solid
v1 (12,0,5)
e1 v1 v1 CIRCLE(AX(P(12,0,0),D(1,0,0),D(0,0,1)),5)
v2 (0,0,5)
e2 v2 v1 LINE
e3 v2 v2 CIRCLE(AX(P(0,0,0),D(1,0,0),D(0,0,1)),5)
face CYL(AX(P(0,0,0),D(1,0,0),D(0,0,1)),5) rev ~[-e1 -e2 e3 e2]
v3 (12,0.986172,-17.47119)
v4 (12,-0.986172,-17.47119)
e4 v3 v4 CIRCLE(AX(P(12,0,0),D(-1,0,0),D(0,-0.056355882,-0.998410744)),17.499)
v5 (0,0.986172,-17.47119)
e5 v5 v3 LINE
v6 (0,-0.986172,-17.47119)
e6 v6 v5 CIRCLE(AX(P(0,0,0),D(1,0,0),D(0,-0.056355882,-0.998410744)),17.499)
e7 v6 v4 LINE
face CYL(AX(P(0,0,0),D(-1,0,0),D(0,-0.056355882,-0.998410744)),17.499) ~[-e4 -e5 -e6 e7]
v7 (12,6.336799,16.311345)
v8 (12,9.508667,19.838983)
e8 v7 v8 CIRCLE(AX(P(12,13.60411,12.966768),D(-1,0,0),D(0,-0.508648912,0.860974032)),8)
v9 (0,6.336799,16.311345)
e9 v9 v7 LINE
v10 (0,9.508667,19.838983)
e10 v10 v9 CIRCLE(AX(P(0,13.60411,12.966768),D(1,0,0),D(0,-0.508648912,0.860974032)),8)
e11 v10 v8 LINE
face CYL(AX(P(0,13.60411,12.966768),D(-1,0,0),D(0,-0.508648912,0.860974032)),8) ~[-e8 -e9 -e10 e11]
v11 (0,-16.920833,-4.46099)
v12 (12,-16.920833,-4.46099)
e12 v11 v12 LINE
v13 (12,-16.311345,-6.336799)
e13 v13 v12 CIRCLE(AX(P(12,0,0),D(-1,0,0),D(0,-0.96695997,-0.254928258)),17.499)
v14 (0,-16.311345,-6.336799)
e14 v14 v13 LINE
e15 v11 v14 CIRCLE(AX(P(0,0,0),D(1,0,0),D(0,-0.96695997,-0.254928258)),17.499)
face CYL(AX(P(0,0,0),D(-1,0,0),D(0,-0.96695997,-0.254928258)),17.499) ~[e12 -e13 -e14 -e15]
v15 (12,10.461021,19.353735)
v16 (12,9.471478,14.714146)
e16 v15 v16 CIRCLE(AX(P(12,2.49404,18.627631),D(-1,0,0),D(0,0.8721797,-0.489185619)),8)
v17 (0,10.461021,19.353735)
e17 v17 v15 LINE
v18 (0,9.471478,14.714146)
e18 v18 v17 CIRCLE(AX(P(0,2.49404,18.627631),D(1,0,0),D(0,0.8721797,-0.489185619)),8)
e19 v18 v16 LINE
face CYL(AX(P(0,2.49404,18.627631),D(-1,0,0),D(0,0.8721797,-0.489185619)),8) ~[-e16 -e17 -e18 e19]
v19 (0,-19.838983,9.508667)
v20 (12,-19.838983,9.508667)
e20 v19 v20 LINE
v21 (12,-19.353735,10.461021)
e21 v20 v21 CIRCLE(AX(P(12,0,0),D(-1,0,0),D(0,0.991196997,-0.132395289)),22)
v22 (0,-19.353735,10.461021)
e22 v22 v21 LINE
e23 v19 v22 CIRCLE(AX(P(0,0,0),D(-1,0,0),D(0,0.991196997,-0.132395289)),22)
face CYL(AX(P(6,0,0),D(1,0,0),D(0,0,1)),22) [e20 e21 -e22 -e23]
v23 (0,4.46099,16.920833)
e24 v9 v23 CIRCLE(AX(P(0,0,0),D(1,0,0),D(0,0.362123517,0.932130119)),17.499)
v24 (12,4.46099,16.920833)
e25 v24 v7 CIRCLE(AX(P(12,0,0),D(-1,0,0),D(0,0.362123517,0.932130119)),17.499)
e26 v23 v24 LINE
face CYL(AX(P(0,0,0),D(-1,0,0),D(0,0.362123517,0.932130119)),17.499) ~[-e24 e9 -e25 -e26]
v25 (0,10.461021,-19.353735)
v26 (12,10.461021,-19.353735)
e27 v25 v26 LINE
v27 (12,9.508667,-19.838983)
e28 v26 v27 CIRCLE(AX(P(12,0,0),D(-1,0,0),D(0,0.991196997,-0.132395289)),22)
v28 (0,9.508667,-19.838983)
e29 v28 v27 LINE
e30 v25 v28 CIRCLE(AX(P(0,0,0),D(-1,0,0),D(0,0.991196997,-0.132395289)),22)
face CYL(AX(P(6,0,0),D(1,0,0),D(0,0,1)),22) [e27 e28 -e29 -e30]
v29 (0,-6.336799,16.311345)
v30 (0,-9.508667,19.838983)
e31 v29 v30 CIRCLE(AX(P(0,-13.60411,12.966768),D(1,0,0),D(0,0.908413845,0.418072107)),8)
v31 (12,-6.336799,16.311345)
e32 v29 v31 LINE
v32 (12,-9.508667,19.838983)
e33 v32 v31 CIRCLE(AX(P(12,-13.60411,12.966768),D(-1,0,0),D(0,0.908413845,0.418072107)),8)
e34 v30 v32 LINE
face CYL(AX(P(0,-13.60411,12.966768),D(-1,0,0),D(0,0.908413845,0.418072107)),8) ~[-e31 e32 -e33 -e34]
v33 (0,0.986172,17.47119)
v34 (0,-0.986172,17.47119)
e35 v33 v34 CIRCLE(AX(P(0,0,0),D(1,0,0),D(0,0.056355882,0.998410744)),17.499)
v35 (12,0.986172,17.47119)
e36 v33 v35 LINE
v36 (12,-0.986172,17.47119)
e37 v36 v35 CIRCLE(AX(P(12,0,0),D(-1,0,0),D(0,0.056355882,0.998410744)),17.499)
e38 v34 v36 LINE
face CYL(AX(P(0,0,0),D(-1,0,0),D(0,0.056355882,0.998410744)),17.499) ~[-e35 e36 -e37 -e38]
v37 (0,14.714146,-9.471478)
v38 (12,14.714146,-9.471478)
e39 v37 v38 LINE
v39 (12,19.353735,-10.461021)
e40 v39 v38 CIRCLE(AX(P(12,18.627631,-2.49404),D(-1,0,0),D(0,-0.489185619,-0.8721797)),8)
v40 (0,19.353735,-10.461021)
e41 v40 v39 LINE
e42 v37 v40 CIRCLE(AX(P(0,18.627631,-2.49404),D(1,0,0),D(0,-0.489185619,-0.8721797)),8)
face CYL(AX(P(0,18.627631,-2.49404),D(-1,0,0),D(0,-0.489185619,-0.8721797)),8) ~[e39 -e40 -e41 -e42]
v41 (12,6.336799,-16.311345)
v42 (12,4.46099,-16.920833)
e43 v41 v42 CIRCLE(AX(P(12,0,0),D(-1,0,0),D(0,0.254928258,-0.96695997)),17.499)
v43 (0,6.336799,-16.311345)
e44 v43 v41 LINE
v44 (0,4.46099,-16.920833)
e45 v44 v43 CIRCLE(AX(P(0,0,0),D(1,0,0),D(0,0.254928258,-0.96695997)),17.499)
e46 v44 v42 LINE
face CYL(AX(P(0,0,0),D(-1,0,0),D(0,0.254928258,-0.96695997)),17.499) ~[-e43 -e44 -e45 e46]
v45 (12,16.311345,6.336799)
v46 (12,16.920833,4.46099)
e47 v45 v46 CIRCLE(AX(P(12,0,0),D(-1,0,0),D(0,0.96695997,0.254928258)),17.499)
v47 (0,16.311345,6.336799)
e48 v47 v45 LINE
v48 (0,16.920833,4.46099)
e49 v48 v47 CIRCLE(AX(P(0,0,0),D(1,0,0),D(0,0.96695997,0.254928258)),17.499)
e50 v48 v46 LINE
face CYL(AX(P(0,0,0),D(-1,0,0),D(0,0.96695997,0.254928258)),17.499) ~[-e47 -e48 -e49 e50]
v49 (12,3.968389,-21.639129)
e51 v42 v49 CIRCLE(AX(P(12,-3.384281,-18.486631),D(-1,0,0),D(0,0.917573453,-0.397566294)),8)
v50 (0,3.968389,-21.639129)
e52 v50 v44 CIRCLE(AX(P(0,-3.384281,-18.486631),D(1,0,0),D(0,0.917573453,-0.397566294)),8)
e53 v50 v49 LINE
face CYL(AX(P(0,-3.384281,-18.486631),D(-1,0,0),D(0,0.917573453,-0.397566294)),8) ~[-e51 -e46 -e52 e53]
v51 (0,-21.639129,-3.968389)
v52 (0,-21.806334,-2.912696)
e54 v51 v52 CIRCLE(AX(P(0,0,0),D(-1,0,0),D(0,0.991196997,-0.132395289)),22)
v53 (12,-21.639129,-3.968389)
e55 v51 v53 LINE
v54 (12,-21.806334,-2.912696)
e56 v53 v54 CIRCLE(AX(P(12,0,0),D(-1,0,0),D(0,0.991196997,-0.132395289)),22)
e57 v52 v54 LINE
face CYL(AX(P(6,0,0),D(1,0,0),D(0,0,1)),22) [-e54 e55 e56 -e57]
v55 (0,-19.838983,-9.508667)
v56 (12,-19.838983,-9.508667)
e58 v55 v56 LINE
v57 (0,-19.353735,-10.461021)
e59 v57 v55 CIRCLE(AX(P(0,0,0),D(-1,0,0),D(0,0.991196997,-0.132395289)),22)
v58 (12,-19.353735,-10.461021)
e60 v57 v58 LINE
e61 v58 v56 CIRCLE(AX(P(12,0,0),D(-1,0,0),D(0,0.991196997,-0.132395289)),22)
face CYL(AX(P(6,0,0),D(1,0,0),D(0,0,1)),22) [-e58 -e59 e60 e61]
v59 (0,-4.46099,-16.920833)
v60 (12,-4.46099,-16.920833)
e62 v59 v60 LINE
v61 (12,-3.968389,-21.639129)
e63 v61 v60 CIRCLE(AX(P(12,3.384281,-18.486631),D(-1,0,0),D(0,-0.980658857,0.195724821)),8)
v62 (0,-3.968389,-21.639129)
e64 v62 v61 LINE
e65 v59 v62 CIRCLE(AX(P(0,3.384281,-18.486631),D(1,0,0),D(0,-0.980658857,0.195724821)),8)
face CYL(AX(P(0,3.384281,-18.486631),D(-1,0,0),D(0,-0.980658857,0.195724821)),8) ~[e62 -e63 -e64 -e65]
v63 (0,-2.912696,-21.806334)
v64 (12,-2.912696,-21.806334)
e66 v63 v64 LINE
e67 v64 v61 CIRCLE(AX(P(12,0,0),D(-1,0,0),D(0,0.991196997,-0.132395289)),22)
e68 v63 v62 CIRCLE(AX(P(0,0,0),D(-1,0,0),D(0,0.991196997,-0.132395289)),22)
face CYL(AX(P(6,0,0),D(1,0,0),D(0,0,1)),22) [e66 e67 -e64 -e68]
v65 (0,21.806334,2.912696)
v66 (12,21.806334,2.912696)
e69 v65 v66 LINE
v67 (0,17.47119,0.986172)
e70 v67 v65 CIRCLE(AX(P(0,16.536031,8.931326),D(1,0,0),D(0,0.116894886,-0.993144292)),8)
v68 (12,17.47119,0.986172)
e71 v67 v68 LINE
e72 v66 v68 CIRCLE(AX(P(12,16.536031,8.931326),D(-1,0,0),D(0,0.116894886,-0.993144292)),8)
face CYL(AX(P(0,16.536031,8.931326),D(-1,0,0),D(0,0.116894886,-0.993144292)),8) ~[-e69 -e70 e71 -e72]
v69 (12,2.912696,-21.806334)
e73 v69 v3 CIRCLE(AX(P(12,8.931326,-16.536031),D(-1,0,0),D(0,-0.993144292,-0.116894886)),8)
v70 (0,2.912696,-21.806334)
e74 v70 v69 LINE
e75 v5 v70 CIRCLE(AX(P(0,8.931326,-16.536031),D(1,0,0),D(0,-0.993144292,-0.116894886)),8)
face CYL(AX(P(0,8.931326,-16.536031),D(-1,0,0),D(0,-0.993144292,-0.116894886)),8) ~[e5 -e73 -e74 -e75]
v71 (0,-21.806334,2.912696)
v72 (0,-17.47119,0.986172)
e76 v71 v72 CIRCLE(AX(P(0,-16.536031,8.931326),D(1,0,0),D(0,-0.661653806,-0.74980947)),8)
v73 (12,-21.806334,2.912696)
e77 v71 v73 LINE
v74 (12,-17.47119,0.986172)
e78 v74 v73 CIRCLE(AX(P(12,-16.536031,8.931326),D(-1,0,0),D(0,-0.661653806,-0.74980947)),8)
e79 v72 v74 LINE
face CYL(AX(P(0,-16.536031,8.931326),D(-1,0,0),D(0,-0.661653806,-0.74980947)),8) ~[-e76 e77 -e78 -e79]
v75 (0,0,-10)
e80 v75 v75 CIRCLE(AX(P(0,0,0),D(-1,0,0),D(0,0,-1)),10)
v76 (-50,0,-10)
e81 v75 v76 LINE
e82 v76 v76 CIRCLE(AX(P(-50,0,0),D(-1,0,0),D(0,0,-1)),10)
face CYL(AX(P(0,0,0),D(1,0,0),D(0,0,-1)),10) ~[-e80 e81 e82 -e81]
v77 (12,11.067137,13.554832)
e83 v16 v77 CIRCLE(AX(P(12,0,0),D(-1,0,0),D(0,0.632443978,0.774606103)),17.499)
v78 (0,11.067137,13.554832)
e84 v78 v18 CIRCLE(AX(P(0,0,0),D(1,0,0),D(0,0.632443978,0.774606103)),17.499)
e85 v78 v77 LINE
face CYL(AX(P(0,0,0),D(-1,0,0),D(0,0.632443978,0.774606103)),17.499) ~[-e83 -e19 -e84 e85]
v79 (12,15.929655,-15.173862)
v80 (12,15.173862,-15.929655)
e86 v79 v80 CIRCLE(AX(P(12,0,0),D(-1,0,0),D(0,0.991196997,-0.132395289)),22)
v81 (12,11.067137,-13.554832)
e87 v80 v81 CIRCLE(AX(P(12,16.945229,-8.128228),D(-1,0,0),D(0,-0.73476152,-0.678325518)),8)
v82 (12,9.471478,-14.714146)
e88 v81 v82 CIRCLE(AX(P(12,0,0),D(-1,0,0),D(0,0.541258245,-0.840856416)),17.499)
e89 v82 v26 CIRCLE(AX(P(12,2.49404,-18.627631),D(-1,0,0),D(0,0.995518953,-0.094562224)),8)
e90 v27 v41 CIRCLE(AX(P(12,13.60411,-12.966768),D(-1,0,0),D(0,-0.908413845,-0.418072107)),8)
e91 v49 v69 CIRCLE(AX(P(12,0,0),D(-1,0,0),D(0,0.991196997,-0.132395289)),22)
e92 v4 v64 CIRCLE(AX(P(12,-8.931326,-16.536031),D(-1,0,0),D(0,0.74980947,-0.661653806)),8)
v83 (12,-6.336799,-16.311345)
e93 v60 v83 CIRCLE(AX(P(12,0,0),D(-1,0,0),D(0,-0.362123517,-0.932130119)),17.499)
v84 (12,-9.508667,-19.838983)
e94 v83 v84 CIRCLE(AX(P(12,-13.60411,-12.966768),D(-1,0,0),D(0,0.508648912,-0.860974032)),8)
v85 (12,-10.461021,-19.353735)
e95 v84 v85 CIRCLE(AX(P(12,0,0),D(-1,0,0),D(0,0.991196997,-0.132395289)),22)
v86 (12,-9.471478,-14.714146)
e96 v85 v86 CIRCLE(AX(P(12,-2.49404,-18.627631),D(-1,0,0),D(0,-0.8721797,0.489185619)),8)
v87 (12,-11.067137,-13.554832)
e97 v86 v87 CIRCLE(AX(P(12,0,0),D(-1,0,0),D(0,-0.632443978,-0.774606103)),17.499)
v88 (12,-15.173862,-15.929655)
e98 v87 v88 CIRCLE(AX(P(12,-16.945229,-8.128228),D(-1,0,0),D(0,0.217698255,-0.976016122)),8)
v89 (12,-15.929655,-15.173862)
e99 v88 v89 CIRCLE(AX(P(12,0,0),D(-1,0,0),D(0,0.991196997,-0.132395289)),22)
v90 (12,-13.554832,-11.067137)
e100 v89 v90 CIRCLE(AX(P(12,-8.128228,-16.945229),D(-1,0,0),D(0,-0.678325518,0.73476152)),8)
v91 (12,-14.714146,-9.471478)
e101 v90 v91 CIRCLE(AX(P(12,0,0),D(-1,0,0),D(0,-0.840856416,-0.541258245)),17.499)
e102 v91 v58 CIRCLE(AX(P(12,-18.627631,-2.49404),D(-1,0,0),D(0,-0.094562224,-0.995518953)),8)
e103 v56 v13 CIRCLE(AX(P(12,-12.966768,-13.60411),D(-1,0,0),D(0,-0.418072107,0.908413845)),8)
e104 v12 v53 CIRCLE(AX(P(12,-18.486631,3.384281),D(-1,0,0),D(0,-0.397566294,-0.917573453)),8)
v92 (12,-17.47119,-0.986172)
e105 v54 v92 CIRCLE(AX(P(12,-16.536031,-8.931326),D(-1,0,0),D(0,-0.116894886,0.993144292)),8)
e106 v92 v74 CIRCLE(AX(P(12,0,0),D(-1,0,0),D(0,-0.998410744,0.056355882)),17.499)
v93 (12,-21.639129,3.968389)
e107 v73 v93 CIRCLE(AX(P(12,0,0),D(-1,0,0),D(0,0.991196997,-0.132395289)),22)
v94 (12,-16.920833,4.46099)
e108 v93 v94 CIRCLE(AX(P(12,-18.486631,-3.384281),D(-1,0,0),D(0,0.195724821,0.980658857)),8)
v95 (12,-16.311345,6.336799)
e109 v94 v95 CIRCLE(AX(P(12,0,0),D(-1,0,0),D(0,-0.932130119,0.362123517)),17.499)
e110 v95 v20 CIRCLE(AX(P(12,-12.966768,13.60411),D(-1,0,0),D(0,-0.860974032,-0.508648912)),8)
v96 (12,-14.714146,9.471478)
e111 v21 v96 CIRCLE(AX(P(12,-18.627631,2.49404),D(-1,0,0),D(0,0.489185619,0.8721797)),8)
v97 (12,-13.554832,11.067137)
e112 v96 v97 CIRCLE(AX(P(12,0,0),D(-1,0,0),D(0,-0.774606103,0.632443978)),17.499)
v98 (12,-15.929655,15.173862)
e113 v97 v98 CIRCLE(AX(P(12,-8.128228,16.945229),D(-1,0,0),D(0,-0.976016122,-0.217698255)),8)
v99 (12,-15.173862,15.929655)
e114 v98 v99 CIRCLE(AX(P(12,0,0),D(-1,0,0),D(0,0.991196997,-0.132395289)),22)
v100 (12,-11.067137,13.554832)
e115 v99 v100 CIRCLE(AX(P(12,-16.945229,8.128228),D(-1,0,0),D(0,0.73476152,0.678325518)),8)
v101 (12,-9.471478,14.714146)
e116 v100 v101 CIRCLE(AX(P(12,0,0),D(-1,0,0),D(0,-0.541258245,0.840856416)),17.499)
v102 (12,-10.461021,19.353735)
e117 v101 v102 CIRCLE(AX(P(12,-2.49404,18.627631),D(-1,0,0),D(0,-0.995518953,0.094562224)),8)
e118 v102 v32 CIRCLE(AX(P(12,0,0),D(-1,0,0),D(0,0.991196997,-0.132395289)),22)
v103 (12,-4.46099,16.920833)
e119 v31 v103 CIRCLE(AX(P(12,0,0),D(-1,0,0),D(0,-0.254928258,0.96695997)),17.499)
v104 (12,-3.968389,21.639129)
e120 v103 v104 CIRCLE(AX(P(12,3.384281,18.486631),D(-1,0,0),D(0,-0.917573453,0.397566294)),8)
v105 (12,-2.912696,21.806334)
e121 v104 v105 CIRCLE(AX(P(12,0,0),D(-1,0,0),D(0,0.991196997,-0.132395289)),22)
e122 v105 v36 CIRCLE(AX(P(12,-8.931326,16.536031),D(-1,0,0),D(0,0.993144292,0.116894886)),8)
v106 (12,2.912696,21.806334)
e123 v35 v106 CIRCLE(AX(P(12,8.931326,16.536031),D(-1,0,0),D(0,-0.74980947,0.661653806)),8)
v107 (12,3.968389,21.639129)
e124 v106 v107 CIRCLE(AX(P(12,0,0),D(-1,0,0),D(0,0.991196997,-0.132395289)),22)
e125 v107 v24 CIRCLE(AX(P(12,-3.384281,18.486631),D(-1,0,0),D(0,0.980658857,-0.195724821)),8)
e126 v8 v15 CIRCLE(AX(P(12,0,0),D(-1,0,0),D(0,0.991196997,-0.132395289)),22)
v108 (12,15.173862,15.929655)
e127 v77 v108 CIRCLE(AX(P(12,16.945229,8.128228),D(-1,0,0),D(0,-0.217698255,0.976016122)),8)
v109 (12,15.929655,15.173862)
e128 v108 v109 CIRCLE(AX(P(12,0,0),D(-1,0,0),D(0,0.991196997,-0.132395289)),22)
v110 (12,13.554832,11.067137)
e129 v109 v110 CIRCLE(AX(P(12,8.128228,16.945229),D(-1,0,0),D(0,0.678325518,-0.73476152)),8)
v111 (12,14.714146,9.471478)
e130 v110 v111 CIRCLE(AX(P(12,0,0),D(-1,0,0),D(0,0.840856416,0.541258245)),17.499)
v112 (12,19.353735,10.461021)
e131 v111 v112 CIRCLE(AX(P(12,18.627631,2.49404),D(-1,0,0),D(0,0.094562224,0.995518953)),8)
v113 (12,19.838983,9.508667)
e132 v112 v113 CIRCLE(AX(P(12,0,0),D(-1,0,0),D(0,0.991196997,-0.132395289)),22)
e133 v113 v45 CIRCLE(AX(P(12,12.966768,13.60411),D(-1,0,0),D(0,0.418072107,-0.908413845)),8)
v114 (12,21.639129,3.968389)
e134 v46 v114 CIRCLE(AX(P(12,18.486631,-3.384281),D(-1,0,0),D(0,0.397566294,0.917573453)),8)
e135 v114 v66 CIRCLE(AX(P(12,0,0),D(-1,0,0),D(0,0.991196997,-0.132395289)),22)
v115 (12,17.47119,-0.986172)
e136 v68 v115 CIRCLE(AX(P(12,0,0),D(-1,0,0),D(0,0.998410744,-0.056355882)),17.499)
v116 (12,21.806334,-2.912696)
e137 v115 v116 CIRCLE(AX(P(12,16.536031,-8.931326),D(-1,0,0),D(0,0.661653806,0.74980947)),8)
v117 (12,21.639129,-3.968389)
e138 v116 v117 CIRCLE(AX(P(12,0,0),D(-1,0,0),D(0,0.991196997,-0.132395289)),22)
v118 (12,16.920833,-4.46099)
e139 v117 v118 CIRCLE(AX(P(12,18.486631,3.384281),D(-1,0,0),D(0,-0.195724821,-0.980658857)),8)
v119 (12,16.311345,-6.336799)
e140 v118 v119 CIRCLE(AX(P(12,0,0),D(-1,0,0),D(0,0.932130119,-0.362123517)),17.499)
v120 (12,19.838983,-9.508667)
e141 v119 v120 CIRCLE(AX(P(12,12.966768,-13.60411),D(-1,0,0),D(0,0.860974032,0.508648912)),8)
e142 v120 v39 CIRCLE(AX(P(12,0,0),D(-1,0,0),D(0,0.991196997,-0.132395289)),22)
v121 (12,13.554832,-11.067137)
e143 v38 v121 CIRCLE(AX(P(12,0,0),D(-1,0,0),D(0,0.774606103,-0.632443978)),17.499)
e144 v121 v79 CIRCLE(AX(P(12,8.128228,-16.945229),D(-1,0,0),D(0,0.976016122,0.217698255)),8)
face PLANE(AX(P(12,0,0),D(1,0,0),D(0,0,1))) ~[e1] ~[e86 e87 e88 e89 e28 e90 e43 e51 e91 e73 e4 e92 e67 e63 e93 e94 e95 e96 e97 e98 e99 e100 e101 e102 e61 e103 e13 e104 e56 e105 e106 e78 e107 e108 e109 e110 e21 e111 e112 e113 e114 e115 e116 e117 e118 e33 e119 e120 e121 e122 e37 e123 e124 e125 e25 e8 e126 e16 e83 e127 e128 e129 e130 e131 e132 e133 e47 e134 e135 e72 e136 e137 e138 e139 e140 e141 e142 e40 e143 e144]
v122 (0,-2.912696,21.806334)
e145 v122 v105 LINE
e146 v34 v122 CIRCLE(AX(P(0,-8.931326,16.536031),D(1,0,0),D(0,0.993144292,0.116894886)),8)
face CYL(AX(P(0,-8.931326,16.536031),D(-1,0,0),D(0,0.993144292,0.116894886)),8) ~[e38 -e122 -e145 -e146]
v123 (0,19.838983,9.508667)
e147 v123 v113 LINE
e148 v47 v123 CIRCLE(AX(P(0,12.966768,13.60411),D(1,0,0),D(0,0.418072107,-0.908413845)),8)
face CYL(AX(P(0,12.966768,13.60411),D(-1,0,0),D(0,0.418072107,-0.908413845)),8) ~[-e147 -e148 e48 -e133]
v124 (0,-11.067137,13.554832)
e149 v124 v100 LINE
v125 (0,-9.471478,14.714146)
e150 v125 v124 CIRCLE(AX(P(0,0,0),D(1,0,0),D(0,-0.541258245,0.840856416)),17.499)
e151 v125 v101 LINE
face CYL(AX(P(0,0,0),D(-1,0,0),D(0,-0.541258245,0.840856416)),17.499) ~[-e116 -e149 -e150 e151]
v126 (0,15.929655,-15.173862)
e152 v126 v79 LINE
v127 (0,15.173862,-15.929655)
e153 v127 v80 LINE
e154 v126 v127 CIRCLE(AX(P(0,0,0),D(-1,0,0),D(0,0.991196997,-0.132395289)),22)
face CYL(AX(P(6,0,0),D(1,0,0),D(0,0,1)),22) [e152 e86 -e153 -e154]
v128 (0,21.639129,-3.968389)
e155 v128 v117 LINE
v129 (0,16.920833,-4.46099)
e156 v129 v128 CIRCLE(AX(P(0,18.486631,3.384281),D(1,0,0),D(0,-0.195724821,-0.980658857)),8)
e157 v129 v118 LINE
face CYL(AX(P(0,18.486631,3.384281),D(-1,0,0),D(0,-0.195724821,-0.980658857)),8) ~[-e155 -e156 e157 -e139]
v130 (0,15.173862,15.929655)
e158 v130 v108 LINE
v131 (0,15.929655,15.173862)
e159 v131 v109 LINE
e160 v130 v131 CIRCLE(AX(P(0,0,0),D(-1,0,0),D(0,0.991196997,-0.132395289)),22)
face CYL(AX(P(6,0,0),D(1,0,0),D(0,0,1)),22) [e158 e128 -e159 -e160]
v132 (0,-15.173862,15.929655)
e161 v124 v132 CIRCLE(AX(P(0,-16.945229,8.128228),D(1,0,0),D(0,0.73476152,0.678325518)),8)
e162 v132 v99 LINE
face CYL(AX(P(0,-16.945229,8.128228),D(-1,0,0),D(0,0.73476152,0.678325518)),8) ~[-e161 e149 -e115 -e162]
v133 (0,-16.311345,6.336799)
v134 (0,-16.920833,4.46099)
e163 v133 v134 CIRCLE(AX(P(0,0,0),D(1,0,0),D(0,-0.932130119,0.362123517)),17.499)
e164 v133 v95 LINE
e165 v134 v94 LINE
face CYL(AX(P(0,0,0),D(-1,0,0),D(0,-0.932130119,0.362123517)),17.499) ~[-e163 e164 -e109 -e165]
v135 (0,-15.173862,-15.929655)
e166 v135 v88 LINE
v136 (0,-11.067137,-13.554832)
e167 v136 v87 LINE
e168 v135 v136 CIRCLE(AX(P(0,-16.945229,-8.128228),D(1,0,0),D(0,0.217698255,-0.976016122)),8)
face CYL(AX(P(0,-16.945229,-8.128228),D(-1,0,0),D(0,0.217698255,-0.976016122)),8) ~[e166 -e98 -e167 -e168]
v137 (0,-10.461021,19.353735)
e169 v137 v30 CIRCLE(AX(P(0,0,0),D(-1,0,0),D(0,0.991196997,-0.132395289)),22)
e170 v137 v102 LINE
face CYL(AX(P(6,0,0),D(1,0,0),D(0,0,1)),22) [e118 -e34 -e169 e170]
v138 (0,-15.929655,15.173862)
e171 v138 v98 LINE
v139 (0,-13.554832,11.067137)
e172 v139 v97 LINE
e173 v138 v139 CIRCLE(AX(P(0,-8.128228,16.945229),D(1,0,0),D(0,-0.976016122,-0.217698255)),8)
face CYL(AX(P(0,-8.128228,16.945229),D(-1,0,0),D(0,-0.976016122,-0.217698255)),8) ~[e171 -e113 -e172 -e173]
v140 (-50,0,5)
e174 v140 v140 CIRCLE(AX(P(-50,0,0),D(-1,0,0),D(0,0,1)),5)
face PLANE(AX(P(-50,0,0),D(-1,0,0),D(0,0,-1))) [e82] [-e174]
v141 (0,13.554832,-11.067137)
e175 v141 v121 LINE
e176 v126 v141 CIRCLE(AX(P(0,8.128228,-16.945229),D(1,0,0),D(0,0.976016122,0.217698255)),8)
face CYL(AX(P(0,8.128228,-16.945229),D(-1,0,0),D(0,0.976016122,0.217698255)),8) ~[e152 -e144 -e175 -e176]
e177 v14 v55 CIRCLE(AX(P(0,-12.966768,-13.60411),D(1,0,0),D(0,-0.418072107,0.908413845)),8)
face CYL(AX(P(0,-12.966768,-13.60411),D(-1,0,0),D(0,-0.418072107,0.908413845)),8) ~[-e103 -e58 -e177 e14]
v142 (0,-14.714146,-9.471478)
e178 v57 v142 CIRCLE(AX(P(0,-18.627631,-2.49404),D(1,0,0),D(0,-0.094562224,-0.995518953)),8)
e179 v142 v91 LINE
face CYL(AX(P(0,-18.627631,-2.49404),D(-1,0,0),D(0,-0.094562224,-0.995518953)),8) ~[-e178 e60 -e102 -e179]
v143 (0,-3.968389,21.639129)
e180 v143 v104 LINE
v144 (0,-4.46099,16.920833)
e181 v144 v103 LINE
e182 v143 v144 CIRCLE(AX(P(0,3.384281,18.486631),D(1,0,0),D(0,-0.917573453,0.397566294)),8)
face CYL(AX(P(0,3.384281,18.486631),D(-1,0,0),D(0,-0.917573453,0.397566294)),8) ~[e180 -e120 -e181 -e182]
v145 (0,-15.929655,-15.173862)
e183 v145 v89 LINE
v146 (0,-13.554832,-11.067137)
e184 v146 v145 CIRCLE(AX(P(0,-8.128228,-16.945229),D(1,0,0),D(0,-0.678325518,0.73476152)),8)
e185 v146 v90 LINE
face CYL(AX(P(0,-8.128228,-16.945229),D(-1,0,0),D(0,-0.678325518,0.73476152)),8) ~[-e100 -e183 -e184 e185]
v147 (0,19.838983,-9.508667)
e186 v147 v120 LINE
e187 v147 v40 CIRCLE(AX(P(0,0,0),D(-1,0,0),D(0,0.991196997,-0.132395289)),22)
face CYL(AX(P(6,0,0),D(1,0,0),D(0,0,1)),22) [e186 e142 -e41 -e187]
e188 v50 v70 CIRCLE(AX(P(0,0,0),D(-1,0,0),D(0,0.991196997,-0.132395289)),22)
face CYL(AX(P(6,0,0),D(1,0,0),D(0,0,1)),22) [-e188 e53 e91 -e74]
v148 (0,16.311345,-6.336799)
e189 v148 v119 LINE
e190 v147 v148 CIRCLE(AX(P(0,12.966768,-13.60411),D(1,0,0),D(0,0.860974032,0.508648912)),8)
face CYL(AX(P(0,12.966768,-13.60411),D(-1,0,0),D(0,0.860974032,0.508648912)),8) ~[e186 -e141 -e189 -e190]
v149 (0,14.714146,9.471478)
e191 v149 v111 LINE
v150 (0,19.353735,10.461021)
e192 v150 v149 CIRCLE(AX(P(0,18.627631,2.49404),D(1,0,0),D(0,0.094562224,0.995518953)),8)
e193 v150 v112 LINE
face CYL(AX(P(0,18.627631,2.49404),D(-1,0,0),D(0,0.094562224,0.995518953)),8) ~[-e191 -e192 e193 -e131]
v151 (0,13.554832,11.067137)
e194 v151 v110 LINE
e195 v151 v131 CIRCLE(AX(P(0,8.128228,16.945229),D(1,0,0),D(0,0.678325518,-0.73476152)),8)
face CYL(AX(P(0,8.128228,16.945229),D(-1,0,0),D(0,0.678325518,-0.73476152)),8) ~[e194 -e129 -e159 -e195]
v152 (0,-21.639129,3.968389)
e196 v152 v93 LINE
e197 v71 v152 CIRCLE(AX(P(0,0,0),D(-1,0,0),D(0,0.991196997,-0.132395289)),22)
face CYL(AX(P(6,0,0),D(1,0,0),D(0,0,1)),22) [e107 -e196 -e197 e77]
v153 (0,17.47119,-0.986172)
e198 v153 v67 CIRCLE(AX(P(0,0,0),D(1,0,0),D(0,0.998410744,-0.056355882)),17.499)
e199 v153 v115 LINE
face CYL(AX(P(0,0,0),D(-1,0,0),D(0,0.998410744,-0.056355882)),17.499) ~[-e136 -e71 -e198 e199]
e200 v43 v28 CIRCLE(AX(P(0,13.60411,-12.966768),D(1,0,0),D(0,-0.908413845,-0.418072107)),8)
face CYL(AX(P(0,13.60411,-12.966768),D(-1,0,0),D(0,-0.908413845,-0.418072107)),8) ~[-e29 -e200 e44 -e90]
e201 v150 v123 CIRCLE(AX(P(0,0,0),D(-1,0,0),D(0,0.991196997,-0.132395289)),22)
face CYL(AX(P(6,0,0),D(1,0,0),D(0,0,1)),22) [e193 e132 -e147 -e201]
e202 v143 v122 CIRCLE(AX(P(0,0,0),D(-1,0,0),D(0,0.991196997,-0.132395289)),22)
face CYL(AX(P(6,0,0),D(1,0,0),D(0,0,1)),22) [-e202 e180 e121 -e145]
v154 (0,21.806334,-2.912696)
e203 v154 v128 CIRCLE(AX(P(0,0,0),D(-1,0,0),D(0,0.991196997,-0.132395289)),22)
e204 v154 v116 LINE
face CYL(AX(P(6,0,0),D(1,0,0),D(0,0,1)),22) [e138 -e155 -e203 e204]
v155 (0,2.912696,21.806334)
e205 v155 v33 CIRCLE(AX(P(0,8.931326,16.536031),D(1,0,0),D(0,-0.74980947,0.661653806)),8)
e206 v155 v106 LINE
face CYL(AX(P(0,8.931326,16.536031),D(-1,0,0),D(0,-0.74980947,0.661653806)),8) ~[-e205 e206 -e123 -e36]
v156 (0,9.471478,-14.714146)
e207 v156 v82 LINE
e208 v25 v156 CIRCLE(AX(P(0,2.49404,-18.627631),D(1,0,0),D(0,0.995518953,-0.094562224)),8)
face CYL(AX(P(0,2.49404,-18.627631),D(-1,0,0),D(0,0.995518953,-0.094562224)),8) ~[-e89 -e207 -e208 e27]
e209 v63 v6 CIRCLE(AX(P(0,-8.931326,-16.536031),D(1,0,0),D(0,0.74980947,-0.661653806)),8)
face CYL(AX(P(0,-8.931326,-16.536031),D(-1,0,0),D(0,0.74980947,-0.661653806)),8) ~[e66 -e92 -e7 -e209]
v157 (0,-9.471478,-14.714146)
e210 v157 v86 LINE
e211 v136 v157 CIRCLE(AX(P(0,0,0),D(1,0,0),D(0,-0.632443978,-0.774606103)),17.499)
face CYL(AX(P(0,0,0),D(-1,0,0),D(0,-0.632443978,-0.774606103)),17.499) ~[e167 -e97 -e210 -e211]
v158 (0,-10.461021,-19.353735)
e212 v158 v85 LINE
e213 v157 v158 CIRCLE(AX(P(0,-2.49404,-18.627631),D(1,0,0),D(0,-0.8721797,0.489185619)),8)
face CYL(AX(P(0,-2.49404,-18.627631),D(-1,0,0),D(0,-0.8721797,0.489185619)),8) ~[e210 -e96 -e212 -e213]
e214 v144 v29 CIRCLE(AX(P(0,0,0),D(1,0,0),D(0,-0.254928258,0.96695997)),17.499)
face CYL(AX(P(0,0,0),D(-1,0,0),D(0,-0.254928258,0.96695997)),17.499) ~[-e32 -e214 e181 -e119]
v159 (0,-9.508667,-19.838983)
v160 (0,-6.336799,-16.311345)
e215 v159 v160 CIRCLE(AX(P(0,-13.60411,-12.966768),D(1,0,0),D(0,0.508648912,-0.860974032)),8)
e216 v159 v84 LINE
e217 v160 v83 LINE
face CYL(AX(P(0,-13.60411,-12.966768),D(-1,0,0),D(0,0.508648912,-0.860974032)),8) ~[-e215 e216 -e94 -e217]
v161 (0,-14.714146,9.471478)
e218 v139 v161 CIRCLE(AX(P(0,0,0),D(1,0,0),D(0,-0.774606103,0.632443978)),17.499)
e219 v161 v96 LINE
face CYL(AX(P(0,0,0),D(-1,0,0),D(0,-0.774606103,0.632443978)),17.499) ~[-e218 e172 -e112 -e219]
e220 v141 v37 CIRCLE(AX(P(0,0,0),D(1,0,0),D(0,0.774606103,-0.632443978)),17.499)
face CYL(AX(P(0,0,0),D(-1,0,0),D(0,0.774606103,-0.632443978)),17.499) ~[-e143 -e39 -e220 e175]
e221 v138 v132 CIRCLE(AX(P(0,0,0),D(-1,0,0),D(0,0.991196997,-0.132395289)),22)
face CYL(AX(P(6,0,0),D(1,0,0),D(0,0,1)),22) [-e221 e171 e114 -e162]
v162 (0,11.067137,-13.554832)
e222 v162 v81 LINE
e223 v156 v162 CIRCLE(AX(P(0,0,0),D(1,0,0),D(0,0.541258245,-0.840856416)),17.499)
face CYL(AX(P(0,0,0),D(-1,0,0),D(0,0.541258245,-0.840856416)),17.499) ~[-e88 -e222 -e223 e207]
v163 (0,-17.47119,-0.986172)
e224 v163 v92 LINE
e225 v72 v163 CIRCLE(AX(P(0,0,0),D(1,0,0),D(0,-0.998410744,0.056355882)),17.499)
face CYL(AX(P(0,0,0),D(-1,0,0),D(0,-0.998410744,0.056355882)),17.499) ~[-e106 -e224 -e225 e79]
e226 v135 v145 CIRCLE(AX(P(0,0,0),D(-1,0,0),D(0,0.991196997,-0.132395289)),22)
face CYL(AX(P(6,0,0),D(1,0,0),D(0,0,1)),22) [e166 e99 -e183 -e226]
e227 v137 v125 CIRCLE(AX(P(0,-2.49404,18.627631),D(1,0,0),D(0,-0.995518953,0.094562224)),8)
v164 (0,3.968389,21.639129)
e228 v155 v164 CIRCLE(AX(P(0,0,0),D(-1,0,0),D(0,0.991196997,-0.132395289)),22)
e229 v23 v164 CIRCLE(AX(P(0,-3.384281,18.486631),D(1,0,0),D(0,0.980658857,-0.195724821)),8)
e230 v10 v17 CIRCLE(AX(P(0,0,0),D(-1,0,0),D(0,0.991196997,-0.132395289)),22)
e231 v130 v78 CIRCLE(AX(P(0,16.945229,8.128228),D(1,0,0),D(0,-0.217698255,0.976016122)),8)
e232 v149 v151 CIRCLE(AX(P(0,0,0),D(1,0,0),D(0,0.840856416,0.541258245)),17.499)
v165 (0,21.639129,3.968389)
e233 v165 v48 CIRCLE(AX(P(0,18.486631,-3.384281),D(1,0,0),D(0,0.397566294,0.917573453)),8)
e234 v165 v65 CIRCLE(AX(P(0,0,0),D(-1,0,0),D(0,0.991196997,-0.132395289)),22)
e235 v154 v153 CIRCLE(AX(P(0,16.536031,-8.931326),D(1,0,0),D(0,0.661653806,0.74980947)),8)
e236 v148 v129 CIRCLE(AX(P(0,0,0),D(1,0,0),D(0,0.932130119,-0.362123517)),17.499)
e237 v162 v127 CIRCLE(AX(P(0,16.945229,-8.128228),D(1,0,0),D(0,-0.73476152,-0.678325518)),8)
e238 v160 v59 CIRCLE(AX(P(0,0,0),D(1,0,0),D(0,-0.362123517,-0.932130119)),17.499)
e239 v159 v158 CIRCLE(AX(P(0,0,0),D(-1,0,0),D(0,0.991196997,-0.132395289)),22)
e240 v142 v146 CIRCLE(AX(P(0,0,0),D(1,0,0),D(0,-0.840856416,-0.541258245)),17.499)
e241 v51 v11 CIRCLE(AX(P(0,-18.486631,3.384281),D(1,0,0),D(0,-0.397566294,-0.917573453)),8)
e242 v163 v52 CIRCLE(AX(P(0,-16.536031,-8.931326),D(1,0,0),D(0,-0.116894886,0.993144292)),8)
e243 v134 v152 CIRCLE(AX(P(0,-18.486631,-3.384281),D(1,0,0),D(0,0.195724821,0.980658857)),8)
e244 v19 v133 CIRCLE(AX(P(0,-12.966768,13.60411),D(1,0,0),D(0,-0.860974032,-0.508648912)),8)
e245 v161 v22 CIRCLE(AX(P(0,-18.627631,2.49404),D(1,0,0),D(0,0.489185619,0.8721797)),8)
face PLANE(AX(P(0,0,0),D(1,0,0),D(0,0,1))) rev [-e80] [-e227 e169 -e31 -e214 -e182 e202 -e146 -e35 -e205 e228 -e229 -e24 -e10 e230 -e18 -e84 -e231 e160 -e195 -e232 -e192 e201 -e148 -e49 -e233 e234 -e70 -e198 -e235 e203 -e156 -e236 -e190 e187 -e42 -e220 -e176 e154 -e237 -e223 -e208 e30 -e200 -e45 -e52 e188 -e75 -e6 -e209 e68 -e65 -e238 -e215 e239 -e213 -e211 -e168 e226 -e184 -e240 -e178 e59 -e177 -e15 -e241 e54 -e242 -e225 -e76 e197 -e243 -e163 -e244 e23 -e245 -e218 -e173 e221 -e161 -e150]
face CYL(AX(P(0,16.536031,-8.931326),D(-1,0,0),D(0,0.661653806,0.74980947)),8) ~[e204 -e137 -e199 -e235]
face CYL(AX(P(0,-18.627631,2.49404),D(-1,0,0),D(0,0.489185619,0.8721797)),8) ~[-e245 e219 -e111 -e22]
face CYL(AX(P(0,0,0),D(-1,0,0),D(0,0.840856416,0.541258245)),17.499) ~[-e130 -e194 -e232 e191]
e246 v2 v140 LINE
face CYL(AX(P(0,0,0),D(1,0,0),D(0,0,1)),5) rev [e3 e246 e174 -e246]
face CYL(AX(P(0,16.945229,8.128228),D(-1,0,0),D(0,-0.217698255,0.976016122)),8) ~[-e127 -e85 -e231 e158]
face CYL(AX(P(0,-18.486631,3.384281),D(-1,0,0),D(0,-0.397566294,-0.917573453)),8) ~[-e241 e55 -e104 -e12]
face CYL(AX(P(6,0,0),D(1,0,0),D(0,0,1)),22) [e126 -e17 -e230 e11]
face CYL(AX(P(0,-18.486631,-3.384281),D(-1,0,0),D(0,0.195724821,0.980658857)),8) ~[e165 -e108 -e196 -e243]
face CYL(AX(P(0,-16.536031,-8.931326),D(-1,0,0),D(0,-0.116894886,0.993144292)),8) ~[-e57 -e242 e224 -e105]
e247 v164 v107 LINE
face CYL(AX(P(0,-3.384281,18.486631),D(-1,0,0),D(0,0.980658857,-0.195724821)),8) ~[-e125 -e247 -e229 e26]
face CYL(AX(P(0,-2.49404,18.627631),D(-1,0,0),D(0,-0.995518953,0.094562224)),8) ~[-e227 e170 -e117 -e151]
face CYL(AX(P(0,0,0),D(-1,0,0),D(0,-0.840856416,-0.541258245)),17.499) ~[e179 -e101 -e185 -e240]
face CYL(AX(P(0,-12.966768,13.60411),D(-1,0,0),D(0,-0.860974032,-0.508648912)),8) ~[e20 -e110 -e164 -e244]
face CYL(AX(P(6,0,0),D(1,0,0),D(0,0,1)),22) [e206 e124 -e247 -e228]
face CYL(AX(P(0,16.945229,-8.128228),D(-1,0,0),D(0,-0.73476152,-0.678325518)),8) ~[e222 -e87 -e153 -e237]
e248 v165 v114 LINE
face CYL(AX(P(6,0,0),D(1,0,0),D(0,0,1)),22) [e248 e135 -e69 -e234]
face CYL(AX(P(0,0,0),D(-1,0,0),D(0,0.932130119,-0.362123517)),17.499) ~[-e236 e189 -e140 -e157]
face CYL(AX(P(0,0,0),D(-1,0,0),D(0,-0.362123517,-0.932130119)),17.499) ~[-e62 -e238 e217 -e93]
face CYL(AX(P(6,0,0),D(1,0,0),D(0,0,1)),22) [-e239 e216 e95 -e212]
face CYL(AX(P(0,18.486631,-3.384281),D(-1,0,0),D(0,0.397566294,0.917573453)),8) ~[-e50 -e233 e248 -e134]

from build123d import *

# Parameters (mm, degrees)
BASPROSKE_W         = 12
BASPROSKE_H         = 22
TOOTHCUT_DEPTH      = 34.346664001
TEETHCUTS_COUNT     = 20
TEETHCUTS_ANGLE     = 342
BORSKE_R            = 5
BORE_DEPTH          = 50.0000508
SKETCH1_R           = 10
SKETCH1_R_2         = 5
BOSS_EXTRUDE1_DEPTH = 50


with BuildPart() as part:
    # BasProSke → Base-Revolve (revolve)
    with BuildSketch(Plane(origin=(0, 0, 0), x_dir=(1, 0, 0), z_dir=(0, 1, 0)), mode=Mode.PRIVATE) as base_revolve_sk:
        with Locations((6, 11)):
            Rectangle(BASPROSKE_W, BASPROSKE_H)
    revolve(base_revolve_sk.sketch.rotate(Axis((-10, 0, 0), (1, 0, 0)), 180), axis=Axis((-10, 0, 0), (1, 0, 0)))

    # TooCutSke → ToothCut (cut, through all)
    with BuildSketch(Plane(origin=(0, 0, 0), x_dir=(0, 0, -1), z_dir=(1, 0, 0))):
        with BuildLine():
            ThreePointArc((0.986171591, 17.471189616), (0, 17.499), (-0.986171591, 17.471189616))
            ThreePointArc((-0.986171591, 17.471189616), (-1.626916196, 19.798789858), (-2.932850173, 21.829260982))
            ThreePointArc((-2.932850173, 21.829260982), (0, 22.0254), (2.932850173, 21.829260982))
            ThreePointArc((2.932850173, 21.829260982), (1.626916196, 19.798789858), (0.986171591, 17.471189616))
        make_face()
    toothcut = extrude(amount=TOOTHCUT_DEPTH, mode=Mode.SUBTRACT)

    # TeethCuts: ToothCut ×20 about axis
    teethcuts_axis = Axis((-10, 0, 0), (1, 0, 0))
    for i in range(1, TEETHCUTS_COUNT):
        add(toothcut.rotate(teethcuts_axis, i * TEETHCUTS_ANGLE / (TEETHCUTS_COUNT - 1)), mode=Mode.SUBTRACT)

    # BorSke → Bore (cut, symmetric)
    with BuildSketch(Plane(origin=(0, 0, 0), x_dir=(0, 0, -1), z_dir=(1, 0, 0))):
        with Locations(Location((0, 0, 0), (0, 0, 180))):
            Circle(BORSKE_R)
    extrude(amount=BORE_DEPTH, both=True, mode=Mode.SUBTRACT)

    # Sketch1 → Boss-Extrude1 (add)
    with BuildSketch(Plane.ZY):
        with Locations(Location((0, 0, 0), (0, 0, 180))):
            Circle(SKETCH1_R)
        Circle(SKETCH1_R_2, mode=Mode.SUBTRACT)
    extrude(amount=BOSS_EXTRUDE1_DEPTH)


solid = part.part
